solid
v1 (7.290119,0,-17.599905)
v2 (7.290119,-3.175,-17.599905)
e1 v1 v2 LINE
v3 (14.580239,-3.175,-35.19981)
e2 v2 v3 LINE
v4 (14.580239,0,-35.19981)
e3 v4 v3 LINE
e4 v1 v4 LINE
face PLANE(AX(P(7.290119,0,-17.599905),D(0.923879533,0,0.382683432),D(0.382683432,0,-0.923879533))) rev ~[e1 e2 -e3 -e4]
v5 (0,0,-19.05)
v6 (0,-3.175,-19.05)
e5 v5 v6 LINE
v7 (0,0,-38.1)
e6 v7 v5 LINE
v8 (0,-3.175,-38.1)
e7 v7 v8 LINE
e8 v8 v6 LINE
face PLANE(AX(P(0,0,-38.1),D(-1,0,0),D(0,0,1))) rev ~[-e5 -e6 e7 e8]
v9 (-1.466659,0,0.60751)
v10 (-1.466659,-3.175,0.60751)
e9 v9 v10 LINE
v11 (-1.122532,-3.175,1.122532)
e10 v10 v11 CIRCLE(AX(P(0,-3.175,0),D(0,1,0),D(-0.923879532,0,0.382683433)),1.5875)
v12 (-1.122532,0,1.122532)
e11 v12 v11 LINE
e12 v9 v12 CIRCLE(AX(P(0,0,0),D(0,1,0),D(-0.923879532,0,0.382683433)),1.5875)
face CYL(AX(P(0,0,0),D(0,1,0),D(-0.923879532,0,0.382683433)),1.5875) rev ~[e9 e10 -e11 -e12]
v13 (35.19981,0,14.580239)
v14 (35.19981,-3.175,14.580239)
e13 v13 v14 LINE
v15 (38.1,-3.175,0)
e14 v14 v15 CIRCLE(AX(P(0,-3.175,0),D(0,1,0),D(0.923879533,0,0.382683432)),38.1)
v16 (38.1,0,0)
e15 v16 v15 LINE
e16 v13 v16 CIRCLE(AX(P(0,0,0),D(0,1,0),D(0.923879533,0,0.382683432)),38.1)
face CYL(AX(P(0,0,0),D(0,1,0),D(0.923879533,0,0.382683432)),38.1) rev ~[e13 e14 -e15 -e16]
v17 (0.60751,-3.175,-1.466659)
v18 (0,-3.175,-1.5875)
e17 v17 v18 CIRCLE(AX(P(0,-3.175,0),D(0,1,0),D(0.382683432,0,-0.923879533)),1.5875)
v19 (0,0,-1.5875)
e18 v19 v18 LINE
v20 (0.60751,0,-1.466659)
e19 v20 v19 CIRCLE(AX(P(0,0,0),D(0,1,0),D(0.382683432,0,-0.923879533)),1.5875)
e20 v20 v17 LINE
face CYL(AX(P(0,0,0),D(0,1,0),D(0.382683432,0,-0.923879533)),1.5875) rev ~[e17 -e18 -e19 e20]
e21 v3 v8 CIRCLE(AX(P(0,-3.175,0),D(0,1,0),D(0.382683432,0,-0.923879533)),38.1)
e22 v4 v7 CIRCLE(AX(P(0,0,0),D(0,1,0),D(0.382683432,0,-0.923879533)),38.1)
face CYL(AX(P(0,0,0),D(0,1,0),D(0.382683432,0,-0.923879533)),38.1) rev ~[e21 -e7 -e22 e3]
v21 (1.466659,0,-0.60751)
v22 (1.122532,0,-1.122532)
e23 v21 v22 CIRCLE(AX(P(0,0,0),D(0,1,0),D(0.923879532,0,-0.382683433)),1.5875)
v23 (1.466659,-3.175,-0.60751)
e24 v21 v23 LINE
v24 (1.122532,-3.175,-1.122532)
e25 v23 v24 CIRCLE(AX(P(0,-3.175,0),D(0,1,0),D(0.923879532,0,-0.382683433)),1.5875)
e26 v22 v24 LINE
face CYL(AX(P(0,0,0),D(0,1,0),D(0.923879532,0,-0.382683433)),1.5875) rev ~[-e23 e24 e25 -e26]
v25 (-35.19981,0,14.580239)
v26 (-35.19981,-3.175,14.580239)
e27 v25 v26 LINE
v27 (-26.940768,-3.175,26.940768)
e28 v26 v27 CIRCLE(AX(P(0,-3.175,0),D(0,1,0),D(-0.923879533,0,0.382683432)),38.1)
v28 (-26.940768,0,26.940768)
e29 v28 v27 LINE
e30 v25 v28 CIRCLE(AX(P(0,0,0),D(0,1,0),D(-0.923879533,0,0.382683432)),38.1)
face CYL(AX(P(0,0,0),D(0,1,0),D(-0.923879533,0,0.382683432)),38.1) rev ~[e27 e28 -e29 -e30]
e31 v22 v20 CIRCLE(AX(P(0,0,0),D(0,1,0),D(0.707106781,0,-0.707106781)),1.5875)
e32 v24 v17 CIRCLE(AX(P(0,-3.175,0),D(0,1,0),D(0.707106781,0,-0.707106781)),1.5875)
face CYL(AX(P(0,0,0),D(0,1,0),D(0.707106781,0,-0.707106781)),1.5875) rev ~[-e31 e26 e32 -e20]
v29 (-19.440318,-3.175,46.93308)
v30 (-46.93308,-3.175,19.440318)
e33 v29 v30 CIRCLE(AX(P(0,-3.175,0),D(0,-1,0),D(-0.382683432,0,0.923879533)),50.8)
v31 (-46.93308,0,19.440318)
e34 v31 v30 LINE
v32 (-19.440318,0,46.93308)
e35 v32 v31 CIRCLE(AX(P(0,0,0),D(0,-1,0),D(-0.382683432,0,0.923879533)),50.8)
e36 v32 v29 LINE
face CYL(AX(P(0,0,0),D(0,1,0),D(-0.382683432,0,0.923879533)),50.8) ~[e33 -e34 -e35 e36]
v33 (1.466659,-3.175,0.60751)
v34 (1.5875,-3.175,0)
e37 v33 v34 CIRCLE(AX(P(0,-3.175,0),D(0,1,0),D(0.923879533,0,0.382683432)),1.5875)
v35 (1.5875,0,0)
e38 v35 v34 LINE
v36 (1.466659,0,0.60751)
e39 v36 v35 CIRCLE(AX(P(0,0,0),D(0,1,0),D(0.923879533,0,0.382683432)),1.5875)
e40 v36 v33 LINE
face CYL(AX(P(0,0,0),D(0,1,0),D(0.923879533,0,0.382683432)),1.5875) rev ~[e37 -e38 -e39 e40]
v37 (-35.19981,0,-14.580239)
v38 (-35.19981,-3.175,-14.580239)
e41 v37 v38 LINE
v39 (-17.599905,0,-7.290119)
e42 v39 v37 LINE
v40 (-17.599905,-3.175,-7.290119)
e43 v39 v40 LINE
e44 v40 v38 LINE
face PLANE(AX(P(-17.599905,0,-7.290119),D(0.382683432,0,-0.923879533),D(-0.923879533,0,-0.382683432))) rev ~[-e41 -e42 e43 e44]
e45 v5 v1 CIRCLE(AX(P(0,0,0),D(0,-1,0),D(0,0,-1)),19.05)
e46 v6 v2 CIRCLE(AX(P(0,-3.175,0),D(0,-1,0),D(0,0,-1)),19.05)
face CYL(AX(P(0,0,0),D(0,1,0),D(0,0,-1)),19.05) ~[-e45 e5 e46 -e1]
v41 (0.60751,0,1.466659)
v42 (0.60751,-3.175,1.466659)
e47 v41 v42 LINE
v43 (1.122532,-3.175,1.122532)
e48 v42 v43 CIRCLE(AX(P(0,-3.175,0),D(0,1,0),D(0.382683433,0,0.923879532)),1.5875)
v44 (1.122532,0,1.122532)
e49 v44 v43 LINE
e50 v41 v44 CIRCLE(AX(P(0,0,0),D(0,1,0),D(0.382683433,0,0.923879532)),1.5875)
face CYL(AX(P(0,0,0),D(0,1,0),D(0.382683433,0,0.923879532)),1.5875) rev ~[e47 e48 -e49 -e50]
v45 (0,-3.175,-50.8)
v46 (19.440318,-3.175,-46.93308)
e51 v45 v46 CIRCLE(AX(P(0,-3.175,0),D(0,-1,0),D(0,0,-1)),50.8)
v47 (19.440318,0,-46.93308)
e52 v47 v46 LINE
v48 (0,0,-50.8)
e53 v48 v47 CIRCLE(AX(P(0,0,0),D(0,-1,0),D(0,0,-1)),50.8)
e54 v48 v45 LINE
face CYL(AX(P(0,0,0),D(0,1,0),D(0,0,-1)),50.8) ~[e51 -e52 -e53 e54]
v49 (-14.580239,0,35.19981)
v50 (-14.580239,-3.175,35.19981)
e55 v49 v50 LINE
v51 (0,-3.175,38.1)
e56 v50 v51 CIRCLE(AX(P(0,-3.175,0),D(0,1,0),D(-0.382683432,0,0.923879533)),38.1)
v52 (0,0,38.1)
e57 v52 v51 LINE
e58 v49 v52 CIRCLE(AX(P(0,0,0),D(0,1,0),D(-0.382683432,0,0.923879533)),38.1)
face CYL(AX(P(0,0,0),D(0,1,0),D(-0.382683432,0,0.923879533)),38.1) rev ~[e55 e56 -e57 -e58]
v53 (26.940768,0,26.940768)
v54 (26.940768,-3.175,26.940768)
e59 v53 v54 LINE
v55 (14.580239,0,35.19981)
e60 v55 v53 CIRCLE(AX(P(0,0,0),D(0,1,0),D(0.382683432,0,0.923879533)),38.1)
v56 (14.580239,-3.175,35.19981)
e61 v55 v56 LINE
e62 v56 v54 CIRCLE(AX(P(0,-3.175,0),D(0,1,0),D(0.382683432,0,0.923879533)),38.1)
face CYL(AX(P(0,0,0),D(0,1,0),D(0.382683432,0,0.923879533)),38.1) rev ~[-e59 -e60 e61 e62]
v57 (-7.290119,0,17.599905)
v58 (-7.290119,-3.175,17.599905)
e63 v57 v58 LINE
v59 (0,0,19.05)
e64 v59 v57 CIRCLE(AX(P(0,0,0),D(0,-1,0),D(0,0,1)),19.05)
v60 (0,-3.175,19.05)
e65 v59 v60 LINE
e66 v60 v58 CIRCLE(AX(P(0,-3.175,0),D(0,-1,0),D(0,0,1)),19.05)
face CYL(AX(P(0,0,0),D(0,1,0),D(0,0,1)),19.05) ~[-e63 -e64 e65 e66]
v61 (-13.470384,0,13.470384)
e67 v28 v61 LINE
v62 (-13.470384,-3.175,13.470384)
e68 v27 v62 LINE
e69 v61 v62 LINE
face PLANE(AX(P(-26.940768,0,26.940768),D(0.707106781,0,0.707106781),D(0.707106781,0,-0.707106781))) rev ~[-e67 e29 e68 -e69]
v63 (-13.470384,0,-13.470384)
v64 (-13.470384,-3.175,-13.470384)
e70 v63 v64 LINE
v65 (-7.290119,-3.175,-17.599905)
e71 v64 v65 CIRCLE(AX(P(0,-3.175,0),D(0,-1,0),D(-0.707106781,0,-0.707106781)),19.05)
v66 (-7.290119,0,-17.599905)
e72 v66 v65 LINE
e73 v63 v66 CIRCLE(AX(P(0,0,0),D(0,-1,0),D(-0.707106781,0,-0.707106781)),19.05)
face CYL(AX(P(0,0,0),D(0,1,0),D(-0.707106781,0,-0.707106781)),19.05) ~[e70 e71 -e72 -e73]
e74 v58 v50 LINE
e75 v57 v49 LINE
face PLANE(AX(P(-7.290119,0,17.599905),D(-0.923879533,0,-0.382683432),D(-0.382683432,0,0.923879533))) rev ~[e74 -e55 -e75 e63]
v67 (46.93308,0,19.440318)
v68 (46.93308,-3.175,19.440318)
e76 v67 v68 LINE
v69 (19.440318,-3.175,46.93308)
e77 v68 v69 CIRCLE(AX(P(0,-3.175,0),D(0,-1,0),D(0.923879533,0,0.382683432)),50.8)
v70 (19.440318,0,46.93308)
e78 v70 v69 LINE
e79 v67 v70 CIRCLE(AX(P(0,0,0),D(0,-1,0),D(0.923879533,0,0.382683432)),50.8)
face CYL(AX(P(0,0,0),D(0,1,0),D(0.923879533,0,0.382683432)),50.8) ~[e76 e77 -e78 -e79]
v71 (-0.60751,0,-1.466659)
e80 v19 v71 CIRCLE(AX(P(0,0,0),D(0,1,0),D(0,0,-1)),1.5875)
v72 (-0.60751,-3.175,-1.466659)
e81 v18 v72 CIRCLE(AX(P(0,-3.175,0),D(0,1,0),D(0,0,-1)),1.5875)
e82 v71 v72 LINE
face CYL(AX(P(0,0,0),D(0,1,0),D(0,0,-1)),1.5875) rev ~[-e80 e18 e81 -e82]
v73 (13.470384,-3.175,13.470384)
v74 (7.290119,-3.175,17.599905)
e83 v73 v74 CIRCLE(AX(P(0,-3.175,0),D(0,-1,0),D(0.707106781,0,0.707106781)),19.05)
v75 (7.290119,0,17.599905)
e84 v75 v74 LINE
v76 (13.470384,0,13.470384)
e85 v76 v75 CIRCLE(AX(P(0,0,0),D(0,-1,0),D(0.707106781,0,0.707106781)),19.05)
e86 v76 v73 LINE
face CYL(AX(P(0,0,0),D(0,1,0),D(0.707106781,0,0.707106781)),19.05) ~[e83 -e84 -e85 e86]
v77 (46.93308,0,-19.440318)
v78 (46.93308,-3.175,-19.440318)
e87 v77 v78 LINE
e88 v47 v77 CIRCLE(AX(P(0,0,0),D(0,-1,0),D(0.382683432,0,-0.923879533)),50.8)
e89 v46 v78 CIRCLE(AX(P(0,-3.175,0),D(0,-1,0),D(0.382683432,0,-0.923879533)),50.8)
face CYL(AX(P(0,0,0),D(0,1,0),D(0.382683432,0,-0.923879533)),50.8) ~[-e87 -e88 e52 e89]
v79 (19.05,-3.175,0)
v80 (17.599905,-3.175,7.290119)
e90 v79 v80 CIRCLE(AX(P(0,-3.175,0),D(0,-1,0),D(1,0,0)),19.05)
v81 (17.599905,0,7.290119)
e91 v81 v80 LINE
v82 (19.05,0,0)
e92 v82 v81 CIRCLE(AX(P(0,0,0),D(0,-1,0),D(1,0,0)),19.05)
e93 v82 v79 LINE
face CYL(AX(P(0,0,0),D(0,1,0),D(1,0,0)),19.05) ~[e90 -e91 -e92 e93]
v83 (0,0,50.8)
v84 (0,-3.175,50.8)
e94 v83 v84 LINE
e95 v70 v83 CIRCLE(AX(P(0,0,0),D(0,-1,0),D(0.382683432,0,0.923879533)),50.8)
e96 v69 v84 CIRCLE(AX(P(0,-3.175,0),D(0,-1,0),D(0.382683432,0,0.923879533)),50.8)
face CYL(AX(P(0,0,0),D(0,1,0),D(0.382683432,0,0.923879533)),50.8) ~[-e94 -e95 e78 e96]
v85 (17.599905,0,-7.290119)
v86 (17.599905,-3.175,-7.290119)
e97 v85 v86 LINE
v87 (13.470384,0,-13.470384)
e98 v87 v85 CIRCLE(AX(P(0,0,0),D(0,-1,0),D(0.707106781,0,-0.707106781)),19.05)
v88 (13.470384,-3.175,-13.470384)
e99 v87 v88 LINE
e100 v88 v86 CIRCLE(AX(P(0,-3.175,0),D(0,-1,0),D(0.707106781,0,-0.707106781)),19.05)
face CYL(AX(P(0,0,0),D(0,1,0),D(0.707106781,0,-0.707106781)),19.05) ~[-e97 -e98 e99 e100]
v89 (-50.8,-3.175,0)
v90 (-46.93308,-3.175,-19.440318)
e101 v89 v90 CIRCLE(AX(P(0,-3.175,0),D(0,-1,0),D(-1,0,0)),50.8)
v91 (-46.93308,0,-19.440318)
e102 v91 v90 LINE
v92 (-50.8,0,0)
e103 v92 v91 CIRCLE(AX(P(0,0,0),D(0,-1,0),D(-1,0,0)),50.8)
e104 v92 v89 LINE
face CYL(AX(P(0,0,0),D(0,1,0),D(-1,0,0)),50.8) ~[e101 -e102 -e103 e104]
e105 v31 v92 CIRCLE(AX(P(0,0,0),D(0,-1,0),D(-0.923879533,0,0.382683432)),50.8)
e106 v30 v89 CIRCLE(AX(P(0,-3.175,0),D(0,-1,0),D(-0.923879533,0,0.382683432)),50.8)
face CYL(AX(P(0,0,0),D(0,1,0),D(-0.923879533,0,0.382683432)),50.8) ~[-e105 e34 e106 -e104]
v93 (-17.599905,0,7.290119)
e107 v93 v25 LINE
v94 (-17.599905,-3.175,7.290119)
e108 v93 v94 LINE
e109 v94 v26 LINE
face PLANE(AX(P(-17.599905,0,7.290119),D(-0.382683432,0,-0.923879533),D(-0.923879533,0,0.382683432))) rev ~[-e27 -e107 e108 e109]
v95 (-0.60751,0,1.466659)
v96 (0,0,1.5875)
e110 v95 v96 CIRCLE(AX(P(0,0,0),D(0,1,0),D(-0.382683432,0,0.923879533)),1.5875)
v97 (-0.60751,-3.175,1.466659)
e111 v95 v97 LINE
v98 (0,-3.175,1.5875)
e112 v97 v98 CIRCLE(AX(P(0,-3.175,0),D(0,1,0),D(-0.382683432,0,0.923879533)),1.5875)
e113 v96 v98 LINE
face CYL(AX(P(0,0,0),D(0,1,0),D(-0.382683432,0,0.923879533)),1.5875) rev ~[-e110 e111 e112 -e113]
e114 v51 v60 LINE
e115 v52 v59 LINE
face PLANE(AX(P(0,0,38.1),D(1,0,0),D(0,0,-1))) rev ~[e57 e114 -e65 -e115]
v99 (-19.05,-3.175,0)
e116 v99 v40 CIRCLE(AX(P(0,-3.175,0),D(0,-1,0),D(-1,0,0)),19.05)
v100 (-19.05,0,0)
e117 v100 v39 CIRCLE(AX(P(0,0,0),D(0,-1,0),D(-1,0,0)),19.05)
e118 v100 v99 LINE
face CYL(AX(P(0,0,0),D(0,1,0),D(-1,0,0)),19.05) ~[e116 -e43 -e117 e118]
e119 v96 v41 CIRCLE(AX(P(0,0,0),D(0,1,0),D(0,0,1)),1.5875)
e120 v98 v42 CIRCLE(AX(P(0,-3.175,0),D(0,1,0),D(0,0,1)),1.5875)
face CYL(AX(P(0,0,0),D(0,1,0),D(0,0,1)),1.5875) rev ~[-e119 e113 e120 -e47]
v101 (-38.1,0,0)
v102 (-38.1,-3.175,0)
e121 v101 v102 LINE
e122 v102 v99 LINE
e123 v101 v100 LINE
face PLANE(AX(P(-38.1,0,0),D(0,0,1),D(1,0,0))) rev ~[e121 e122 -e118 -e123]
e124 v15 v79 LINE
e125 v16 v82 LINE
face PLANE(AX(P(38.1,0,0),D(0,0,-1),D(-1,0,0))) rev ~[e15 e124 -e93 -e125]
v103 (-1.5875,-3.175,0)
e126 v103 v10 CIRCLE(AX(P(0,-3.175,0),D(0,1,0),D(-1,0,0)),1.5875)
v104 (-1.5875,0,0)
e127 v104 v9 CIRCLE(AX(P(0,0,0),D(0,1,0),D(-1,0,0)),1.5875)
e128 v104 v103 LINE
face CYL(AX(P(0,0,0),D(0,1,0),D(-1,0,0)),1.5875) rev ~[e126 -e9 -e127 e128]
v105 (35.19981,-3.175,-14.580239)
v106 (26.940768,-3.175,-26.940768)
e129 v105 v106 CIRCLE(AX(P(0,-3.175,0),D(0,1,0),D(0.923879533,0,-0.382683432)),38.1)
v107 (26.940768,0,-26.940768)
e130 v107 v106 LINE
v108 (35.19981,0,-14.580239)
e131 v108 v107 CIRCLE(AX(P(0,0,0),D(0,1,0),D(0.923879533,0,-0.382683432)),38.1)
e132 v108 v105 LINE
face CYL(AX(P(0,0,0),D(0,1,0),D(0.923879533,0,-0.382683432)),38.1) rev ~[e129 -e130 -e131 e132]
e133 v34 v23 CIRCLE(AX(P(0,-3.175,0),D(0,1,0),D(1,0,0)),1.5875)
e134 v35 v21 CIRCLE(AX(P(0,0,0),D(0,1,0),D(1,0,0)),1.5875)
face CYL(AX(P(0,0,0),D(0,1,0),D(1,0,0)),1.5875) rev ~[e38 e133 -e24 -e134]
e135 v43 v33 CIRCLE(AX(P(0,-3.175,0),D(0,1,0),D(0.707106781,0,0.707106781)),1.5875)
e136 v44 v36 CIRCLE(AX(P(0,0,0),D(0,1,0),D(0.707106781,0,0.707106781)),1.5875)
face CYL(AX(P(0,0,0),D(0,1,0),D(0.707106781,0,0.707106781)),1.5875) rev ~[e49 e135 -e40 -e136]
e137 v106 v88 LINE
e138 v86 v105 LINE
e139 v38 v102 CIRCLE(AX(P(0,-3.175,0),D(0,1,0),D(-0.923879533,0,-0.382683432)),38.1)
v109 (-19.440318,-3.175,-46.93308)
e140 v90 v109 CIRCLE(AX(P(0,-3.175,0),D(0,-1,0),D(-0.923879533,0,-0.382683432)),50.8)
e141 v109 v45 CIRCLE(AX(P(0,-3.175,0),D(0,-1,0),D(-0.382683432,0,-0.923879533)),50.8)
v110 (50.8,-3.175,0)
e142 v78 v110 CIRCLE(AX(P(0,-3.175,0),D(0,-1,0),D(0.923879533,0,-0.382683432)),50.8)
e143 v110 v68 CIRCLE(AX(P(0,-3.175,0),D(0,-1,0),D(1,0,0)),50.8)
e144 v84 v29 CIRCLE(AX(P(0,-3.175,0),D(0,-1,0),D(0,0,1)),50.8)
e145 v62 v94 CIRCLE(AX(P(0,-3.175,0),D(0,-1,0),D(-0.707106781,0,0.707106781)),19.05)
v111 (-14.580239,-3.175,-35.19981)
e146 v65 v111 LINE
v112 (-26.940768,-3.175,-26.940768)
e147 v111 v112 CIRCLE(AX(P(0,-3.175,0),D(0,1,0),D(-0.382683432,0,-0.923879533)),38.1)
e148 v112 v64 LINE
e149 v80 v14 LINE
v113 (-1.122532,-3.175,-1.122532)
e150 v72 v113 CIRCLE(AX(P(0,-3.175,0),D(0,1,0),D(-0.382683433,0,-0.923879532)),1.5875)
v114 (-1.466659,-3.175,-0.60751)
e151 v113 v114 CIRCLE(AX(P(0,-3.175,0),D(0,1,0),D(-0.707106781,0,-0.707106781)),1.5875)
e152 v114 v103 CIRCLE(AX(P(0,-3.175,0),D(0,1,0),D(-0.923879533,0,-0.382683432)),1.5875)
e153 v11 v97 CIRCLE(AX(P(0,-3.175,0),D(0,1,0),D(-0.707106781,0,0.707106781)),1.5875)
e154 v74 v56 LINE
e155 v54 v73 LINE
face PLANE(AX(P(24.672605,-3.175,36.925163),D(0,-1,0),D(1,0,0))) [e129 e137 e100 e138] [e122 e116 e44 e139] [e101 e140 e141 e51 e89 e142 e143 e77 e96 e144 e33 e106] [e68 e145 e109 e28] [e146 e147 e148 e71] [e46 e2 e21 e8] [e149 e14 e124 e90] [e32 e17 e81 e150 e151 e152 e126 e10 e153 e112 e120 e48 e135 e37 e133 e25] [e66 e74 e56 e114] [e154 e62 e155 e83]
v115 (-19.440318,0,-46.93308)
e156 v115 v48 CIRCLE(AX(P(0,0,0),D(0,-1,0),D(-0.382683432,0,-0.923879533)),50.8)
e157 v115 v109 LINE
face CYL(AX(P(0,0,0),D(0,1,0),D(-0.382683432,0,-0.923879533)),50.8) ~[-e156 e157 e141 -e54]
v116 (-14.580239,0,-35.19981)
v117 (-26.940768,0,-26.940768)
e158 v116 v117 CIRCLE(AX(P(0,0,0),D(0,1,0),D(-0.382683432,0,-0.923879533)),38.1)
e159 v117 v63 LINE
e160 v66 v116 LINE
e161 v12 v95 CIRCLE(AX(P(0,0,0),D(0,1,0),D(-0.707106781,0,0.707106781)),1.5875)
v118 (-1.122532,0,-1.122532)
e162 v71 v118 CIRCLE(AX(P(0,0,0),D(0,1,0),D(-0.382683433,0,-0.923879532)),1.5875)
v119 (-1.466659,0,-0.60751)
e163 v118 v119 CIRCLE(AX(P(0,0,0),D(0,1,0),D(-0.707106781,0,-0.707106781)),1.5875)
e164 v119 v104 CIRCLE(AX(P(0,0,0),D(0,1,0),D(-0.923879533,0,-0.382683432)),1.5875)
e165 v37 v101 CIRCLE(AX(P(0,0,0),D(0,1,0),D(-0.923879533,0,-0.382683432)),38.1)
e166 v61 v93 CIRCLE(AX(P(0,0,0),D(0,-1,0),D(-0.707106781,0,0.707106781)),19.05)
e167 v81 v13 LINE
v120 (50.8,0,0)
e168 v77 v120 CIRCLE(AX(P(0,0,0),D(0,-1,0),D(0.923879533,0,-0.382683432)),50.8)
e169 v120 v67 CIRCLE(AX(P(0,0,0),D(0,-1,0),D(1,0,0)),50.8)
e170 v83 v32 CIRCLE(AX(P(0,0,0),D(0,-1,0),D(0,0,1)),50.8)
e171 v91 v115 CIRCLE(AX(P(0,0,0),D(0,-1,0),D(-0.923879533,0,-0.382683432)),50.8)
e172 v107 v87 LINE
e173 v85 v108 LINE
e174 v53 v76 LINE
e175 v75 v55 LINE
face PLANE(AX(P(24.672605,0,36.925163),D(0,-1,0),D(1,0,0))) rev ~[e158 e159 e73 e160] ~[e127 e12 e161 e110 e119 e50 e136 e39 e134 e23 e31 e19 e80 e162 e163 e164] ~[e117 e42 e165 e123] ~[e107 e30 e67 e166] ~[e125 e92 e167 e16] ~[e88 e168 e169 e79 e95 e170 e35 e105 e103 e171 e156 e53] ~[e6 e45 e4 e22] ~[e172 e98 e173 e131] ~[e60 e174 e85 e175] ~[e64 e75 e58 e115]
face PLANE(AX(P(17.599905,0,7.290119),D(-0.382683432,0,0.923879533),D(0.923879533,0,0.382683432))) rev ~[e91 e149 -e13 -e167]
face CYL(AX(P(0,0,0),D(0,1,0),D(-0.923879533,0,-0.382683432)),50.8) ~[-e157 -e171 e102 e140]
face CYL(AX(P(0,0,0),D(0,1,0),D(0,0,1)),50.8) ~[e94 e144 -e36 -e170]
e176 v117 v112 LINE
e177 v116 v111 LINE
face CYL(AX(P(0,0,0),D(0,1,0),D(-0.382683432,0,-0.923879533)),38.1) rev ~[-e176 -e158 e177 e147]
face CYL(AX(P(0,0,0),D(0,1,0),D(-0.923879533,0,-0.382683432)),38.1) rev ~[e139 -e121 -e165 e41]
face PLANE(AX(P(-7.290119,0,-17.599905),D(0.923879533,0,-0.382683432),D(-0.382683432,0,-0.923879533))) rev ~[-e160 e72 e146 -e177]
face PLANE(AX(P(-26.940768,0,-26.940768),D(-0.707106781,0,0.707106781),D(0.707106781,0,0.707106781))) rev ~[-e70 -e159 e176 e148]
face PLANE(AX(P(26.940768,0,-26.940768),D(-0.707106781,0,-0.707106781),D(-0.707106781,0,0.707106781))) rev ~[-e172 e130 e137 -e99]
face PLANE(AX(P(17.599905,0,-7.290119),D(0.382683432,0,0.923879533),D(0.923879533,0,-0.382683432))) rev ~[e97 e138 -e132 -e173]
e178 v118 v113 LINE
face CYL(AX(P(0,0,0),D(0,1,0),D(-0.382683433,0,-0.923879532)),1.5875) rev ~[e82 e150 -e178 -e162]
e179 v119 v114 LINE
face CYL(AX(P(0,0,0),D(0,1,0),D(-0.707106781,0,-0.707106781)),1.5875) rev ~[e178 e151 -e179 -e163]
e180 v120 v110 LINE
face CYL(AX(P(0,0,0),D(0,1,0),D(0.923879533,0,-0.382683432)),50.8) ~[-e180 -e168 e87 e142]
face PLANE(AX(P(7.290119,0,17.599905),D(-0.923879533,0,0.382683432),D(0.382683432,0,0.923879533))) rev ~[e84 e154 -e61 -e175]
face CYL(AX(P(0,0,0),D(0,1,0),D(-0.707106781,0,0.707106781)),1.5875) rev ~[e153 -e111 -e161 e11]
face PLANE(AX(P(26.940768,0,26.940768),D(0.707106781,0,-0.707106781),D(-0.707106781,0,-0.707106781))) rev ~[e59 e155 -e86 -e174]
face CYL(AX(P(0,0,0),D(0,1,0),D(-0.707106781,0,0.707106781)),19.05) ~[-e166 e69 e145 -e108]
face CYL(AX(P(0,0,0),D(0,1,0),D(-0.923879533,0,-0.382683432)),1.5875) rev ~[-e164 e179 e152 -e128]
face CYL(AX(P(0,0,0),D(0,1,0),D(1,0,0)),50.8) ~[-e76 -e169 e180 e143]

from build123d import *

# Parameters (mm, degrees)
F1_DEPTH = 3.175


with BuildPart() as f1:
    # F0 (on Front) → F1 (new body)
    with BuildSketch(Plane.XZ):
        with BuildLine():
            Line((26.9407683632, 26.9407683632), (35.9210244843, 35.9210244843))
            ThreePointArc((35.9210244843, 35.9210244843), (28.2229678374, 42.238656305), (19.4403183641, 46.9330802516))
            Line((19.4403183641, 46.9330802516), (14.5802387731, 35.1998101887))
            ThreePointArc((14.5802387731, 35.1998101887), (21.167225878, 31.6789922287), (26.9407683632, 26.9407683632))
        make_face()
        with BuildLine():
            Line((0, 38.1), (0, 50.8))
            ThreePointArc((0, 50.8), (-9.9105883584, 49.8238922445), (-19.4403183641, 46.9330802516))
            Line((-19.4403183641, 46.9330802516), (-14.5802387731, 35.1998101887))
            ThreePointArc((-14.5802387731, 35.1998101887), (-7.4329412688, 37.3679191834), (0, 38.1))
        make_face()
        with BuildLine():
            Line((-26.9407683632, 26.9407683632), (-35.9210244843, 35.9210244843))
            ThreePointArc((-35.9210244843, 35.9210244843), (-42.238656305, 28.2229678374), (-46.9330802516, 19.4403183641))
            Line((-46.9330802516, 19.4403183641), (-35.1998101887, 14.5802387731))
            ThreePointArc((-35.1998101887, 14.5802387731), (-31.6789922287, 21.167225878), (-26.9407683632, 26.9407683632))
        make_face()
        with BuildLine():
            Line((38.1, 0), (50.8, 0))
            ThreePointArc((50.8, 0), (49.8238922445, 9.9105883584), (46.9330802516, 19.4403183641))
            Line((46.9330802516, 19.4403183641), (35.1998101887, 14.5802387731))
            ThreePointArc((35.1998101887, 14.5802387731), (37.3679191834, 7.4329412688), (38.1, 0))
        make_face()
        with BuildLine():
            ThreePointArc((-35.9210244843, -35.9210244843), (-28.2229678374, -42.238656305), (-19.4403183641, -46.9330802516))
            Line((-19.4403183641, -46.9330802516), (-14.5802387731, -35.1998101887))
            ThreePointArc((-14.5802387731, -35.1998101887), (-21.167225878, -31.6789922287), (-26.9407683632, -26.9407683632))
            Line((-26.9407683632, -26.9407683632), (-35.9210244843, -35.9210244843))
        make_face()
        with BuildLine():
            ThreePointArc((0, -50.8), (9.9105883584, -49.8238922445), (19.4403183641, -46.9330802516))
            Line((19.4403183641, -46.9330802516), (14.5802387731, -35.1998101887))
            ThreePointArc((14.5802387731, -35.1998101887), (7.4329412688, -37.3679191834), (0, -38.1))
            Line((0, -38.1), (0, -50.8))
        make_face()
        with BuildLine():
            ThreePointArc((35.9210244843, -35.9210244843), (42.238656305, -28.2229678374), (46.9330802516, -19.4403183641))
            Line((46.9330802516, -19.4403183641), (35.1998101887, -14.5802387731))
            ThreePointArc((35.1998101887, -14.5802387731), (31.6789922287, -21.167225878), (26.9407683632, -26.9407683632))
            Line((26.9407683632, -26.9407683632), (35.9210244843, -35.9210244843))
        make_face()
        with BuildLine():
            Line((-13.4703841816, 13.4703841816), (-1.1225320151, 1.1225320151))
            ThreePointArc((-1.1225320151, 1.1225320151), (-0.8819677449, 1.3199580095), (-0.6075099489, 1.4666587579))
            Line((-0.6075099489, 1.4666587579), (-7.2901193866, 17.5999050943))
            ThreePointArc((-7.2901193866, 17.5999050943), (-10.583612939, 15.8394961144), (-13.4703841816, 13.4703841816))
        make_face()
        with BuildLine():
            Line((0.6075099489, 1.4666587579), (7.2901193866, 17.5999050943))
            ThreePointArc((7.2901193866, 17.5999050943), (3.7164706344, 18.6839595917), (0, 19.05))
            Line((0, 19.05), (0, 1.5875))
            ThreePointArc((0, 1.5875), (0.3097058862, 1.5569966326), (0.6075099489, 1.4666587579))
        make_face()
        with BuildLine():
            Line((1.1225320151, 1.1225320151), (13.4703841816, 13.4703841816))
            ThreePointArc((13.4703841816, 13.4703841816), (10.583612939, 15.8394961144), (7.2901193866, 17.5999050943))
            Line((7.2901193866, 17.5999050943), (0.6075099489, 1.4666587579))
            ThreePointArc((0.6075099489, 1.4666587579), (0.8819677449, 1.3199580095), (1.1225320151, 1.1225320151))
        make_face()
        with BuildLine():
            Line((1.4666587579, 0.6075099489), (17.5999050943, 7.2901193866))
            ThreePointArc((17.5999050943, 7.2901193866), (15.8394961144, 10.583612939), (13.4703841816, 13.4703841816))
            Line((13.4703841816, 13.4703841816), (1.1225320151, 1.1225320151))
            ThreePointArc((1.1225320151, 1.1225320151), (1.3199580095, 0.8819677449), (1.4666587579, 0.6075099489))
        make_face()
        with BuildLine():
            Line((1.5875, 0), (19.05, 0))
            ThreePointArc((19.05, 0), (18.6839595917, 3.7164706344), (17.5999050943, 7.2901193866))
            Line((17.5999050943, 7.2901193866), (1.4666587579, 0.6075099489))
            ThreePointArc((1.4666587579, 0.6075099489), (1.5569966326, 0.3097058862), (1.5875, 0))
        make_face()
        with BuildLine():
            ThreePointArc((17.5999050943, -7.2901193866), (18.6839595917, -3.7164706344), (19.05, 0))
            Line((19.05, 0), (1.5875, 0))
            ThreePointArc((1.5875, 0), (1.5569966326, -0.3097058862), (1.4666587579, -0.6075099489))
            Line((1.4666587579, -0.6075099489), (17.5999050943, -7.2901193866))
        make_face()
        with BuildLine():
            ThreePointArc((7.2901193866, -17.5999050943), (10.583612939, -15.8394961144), (13.4703841816, -13.4703841816))
            Line((13.4703841816, -13.4703841816), (1.1225320151, -1.1225320151))
            ThreePointArc((1.1225320151, -1.1225320151), (0.8819677449, -1.3199580095), (0.6075099489, -1.4666587579))
            Line((0.6075099489, -1.4666587579), (7.2901193866, -17.5999050943))
        make_face()
        with BuildLine():
            Line((-13.4703841816, -13.4703841816), (-1.1225320151, -1.1225320151))
            ThreePointArc((-1.1225320151, -1.1225320151), (-1.3199580095, -0.8819677449), (-1.4666587579, -0.6075099489))
            Line((-1.4666587579, -0.6075099489), (-17.5999050943, -7.2901193866))
            ThreePointArc((-17.5999050943, -7.2901193866), (-15.8394961144, -10.583612939), (-13.4703841816, -13.4703841816))
        make_face()
        with BuildLine():
            Line((-19.05, 0), (-1.5875, 0))
            ThreePointArc((-1.5875, 0), (-1.5569966326, 0.3097058862), (-1.4666587579, 0.6075099489))
            Line((-1.4666587579, 0.6075099489), (-17.5999050943, 7.2901193866))
            ThreePointArc((-17.5999050943, 7.2901193866), (-18.6839595917, 3.7164706344), (-19.05, 0))
        make_face()
        with BuildLine():
            ThreePointArc((-1.4666587579, 0.6075099489), (-1.3199580095, 0.8819677449), (-1.1225320151, 1.1225320151))
            Line((-1.1225320151, 1.1225320151), (-13.4703841816, 13.4703841816))
            ThreePointArc((-13.4703841816, 13.4703841816), (-15.8394961144, 10.583612939), (-17.5999050943, 7.2901193866))
            Line((-17.5999050943, 7.2901193866), (-1.4666587579, 0.6075099489))
        make_face()
        with BuildLine():
            ThreePointArc((-1.4666587579, -0.6075099489), (-1.5569966326, -0.3097058862), (-1.5875, 0))
            Line((-1.5875, 0), (-19.05, 0))
            ThreePointArc((-19.05, 0), (-18.6839595917, -3.7164706344), (-17.5999050943, -7.2901193866))
            Line((-17.5999050943, -7.2901193866), (-1.4666587579, -0.6075099489))
        make_face()
        with BuildLine():
            ThreePointArc((-0.6075099489, -1.4666587579), (-0.8819677449, -1.3199580095), (-1.1225320151, -1.1225320151))
            Line((-1.1225320151, -1.1225320151), (-13.4703841816, -13.4703841816))
            ThreePointArc((-13.4703841816, -13.4703841816), (-10.583612939, -15.8394961144), (-7.2901193866, -17.5999050943))
            Line((-7.2901193866, -17.5999050943), (-0.6075099489, -1.4666587579))
        make_face()
        with BuildLine():
            Line((0, -19.05), (0, -1.5875))
            ThreePointArc((0, -1.5875), (-0.3097058862, -1.5569966326), (-0.6075099489, -1.4666587579))
            Line((-0.6075099489, -1.4666587579), (-7.2901193866, -17.5999050943))
            ThreePointArc((-7.2901193866, -17.5999050943), (-3.7164706344, -18.6839595917), (0, -19.05))
        make_face()
        with BuildLine():
            ThreePointArc((0, -19.05), (3.7164706344, -18.6839595917), (7.2901193866, -17.5999050943))
            Line((7.2901193866, -17.5999050943), (0.6075099489, -1.4666587579))
            ThreePointArc((0.6075099489, -1.4666587579), (0.3097058862, -1.5569966326), (0, -1.5875))
            Line((0, -1.5875), (0, -19.05))
        make_face()
        with BuildLine():
            ThreePointArc((13.4703841816, -13.4703841816), (15.8394961144, -10.583612939), (17.5999050943, -7.2901193866))
            Line((17.5999050943, -7.2901193866), (1.4666587579, -0.6075099489))
            ThreePointArc((1.4666587579, -0.6075099489), (1.3199580095, -0.8819677449), (1.1225320151, -1.1225320151))
            Line((1.1225320151, -1.1225320151), (13.4703841816, -13.4703841816))
        make_face()
        with BuildLine():
            ThreePointArc((-0.6075099489, 1.4666587579), (-0.3097058862, 1.5569966326), (0, 1.5875))
            Line((0, 1.5875), (0, 19.05))
            ThreePointArc((0, 19.05), (-3.7164706344, 18.6839595917), (-7.2901193866, 17.5999050943))
            Line((-7.2901193866, 17.5999050943), (-0.6075099489, 1.4666587579))
        make_face()
        with BuildLine():
            ThreePointArc((-50.8, 0), (-49.8238922445, -9.9105883584), (-46.9330802516, -19.4403183641))
            Line((-46.9330802516, -19.4403183641), (-35.1998101887, -14.5802387731))
            ThreePointArc((-35.1998101887, -14.5802387731), (-37.3679191834, -7.4329412688), (-38.1, 0))
            Line((-38.1, 0), (-50.8, 0))
        make_face()
        with BuildLine():
            Line((-14.5802387731, 35.1998101887), (-19.4403183641, 46.9330802516))
            ThreePointArc((-19.4403183641, 46.9330802516), (-28.2229678374, 42.238656305), (-35.9210244843, 35.9210244843))
            Line((-35.9210244843, 35.9210244843), (-26.9407683632, 26.9407683632))
            ThreePointArc((-26.9407683632, 26.9407683632), (-21.167225878, 31.6789922287), (-14.5802387731, 35.1998101887))
        make_face()
        with BuildLine():
            Line((14.5802387731, 35.1998101887), (19.4403183641, 46.9330802516))
            ThreePointArc((19.4403183641, 46.9330802516), (9.9105883584, 49.8238922445), (0, 50.8))
            Line((0, 50.8), (0, 38.1))
            ThreePointArc((0, 38.1), (7.4329412688, 37.3679191834), (14.5802387731, 35.1998101887))
        make_face()
        with BuildLine():
            Line((35.1998101887, 14.5802387731), (46.9330802516, 19.4403183641))
            ThreePointArc((46.9330802516, 19.4403183641), (42.238656305, 28.2229678374), (35.9210244843, 35.9210244843))
            Line((35.9210244843, 35.9210244843), (26.9407683632, 26.9407683632))
            ThreePointArc((26.9407683632, 26.9407683632), (31.6789922287, 21.167225878), (35.1998101887, 14.5802387731))
        make_face()
        with BuildLine():
            ThreePointArc((19.4403183641, -46.9330802516), (28.2229678374, -42.238656305), (35.9210244843, -35.9210244843))
            Line((35.9210244843, -35.9210244843), (26.9407683632, -26.9407683632))
            ThreePointArc((26.9407683632, -26.9407683632), (21.167225878, -31.6789922287), (14.5802387731, -35.1998101887))
            Line((14.5802387731, -35.1998101887), (19.4403183641, -46.9330802516))
        make_face()
        with BuildLine():
            ThreePointArc((-19.4403183641, -46.9330802516), (-9.9105883584, -49.8238922445), (0, -50.8))
            Line((0, -50.8), (0, -38.1))
            ThreePointArc((0, -38.1), (-7.4329412688, -37.3679191834), (-14.5802387731, -35.1998101887))
            Line((-14.5802387731, -35.1998101887), (-19.4403183641, -46.9330802516))
        make_face()
        with BuildLine():
            ThreePointArc((-46.9330802516, -19.4403183641), (-42.238656305, -28.2229678374), (-35.9210244843, -35.9210244843))
            Line((-35.9210244843, -35.9210244843), (-26.9407683632, -26.9407683632))
            ThreePointArc((-26.9407683632, -26.9407683632), (-31.6789922287, -21.167225878), (-35.1998101887, -14.5802387731))
            Line((-35.1998101887, -14.5802387731), (-46.9330802516, -19.4403183641))
        make_face()
        with BuildLine():
            ThreePointArc((46.9330802516, -19.4403183641), (49.8238922445, -9.9105883584), (50.8, 0))
            Line((50.8, 0), (38.1, 0))
            ThreePointArc((38.1, 0), (37.3679191834, -7.4329412688), (35.1998101887, -14.5802387731))
            Line((35.1998101887, -14.5802387731), (46.9330802516, -19.4403183641))
        make_face()
        with BuildLine():
            Line((-38.1, 0), (-19.05, 0))
            ThreePointArc((-19.05, 0), (-18.6839595917, 3.7164706344), (-17.5999050943, 7.2901193866))
            Line((-17.5999050943, 7.2901193866), (-35.1998101887, 14.5802387731))
            ThreePointArc((-35.1998101887, 14.5802387731), (-37.3679191834, 7.4329412688), (-38.1, 0))
        make_face()
        with BuildLine():
            Line((-7.2901193866, 17.5999050943), (-14.5802387731, 35.1998101887))
            ThreePointArc((-14.5802387731, 35.1998101887), (-21.167225878, 31.6789922287), (-26.9407683632, 26.9407683632))
            Line((-26.9407683632, 26.9407683632), (-13.4703841816, 13.4703841816))
            ThreePointArc((-13.4703841816, 13.4703841816), (-10.583612939, 15.8394961144), (-7.2901193866, 17.5999050943))
        make_face()
        with BuildLine():
            Line((7.2901193866, 17.5999050943), (14.5802387731, 35.1998101887))
            ThreePointArc((14.5802387731, 35.1998101887), (7.4329412688, 37.3679191834), (0, 38.1))
            Line((0, 38.1), (0, 19.05))
            ThreePointArc((0, 19.05), (3.7164706344, 18.6839595917), (7.2901193866, 17.5999050943))
        make_face()
        with BuildLine():
            Line((17.5999050943, 7.2901193866), (35.1998101887, 14.5802387731))
            ThreePointArc((35.1998101887, 14.5802387731), (31.6789922287, 21.167225878), (26.9407683632, 26.9407683632))
            Line((26.9407683632, 26.9407683632), (13.4703841816, 13.4703841816))
            ThreePointArc((13.4703841816, 13.4703841816), (15.8394961144, 10.583612939), (17.5999050943, 7.2901193866))
        make_face()
        with BuildLine():
            ThreePointArc((35.1998101887, -14.5802387731), (37.3679191834, -7.4329412688), (38.1, 0))
            Line((38.1, 0), (19.05, 0))
            ThreePointArc((19.05, 0), (18.6839595917, -3.7164706344), (17.5999050943, -7.2901193866))
            Line((17.5999050943, -7.2901193866), (35.1998101887, -14.5802387731))
        make_face()
        with BuildLine():
            ThreePointArc((-14.5802387731, -35.1998101887), (-7.4329412688, -37.3679191834), (0, -38.1))
            Line((0, -38.1), (0, -19.05))
            ThreePointArc((0, -19.05), (-3.7164706344, -18.6839595917), (-7.2901193866, -17.5999050943))
            Line((-7.2901193866, -17.5999050943), (-14.5802387731, -35.1998101887))
        make_face()
        with BuildLine():
            Line((-26.9407683632, -26.9407683632), (-13.4703841816, -13.4703841816))
            ThreePointArc((-13.4703841816, -13.4703841816), (-15.8394961144, -10.583612939), (-17.5999050943, -7.2901193866))
            Line((-17.5999050943, -7.2901193866), (-35.1998101887, -14.5802387731))
            ThreePointArc((-35.1998101887, -14.5802387731), (-31.6789922287, -21.167225878), (-26.9407683632, -26.9407683632))
        make_face()
        with BuildLine():
            Line((-35.1998101887, 14.5802387731), (-46.9330802516, 19.4403183641))
            ThreePointArc((-46.9330802516, 19.4403183641), (-49.8238922445, 9.9105883584), (-50.8, 0))
            Line((-50.8, 0), (-38.1, 0))
            ThreePointArc((-38.1, 0), (-37.3679191834, 7.4329412688), (-35.1998101887, 14.5802387731))
        make_face()
        with BuildLine():
            ThreePointArc((14.5802387731, -35.1998101887), (21.167225878, -31.6789922287), (26.9407683632, -26.9407683632))
            Line((26.9407683632, -26.9407683632), (13.4703841816, -13.4703841816))
            ThreePointArc((13.4703841816, -13.4703841816), (10.583612939, -15.8394961144), (7.2901193866, -17.5999050943))
            Line((7.2901193866, -17.5999050943), (14.5802387731, -35.1998101887))
        make_face()
    extrude(amount=F1_DEPTH)


solid = f1.part
